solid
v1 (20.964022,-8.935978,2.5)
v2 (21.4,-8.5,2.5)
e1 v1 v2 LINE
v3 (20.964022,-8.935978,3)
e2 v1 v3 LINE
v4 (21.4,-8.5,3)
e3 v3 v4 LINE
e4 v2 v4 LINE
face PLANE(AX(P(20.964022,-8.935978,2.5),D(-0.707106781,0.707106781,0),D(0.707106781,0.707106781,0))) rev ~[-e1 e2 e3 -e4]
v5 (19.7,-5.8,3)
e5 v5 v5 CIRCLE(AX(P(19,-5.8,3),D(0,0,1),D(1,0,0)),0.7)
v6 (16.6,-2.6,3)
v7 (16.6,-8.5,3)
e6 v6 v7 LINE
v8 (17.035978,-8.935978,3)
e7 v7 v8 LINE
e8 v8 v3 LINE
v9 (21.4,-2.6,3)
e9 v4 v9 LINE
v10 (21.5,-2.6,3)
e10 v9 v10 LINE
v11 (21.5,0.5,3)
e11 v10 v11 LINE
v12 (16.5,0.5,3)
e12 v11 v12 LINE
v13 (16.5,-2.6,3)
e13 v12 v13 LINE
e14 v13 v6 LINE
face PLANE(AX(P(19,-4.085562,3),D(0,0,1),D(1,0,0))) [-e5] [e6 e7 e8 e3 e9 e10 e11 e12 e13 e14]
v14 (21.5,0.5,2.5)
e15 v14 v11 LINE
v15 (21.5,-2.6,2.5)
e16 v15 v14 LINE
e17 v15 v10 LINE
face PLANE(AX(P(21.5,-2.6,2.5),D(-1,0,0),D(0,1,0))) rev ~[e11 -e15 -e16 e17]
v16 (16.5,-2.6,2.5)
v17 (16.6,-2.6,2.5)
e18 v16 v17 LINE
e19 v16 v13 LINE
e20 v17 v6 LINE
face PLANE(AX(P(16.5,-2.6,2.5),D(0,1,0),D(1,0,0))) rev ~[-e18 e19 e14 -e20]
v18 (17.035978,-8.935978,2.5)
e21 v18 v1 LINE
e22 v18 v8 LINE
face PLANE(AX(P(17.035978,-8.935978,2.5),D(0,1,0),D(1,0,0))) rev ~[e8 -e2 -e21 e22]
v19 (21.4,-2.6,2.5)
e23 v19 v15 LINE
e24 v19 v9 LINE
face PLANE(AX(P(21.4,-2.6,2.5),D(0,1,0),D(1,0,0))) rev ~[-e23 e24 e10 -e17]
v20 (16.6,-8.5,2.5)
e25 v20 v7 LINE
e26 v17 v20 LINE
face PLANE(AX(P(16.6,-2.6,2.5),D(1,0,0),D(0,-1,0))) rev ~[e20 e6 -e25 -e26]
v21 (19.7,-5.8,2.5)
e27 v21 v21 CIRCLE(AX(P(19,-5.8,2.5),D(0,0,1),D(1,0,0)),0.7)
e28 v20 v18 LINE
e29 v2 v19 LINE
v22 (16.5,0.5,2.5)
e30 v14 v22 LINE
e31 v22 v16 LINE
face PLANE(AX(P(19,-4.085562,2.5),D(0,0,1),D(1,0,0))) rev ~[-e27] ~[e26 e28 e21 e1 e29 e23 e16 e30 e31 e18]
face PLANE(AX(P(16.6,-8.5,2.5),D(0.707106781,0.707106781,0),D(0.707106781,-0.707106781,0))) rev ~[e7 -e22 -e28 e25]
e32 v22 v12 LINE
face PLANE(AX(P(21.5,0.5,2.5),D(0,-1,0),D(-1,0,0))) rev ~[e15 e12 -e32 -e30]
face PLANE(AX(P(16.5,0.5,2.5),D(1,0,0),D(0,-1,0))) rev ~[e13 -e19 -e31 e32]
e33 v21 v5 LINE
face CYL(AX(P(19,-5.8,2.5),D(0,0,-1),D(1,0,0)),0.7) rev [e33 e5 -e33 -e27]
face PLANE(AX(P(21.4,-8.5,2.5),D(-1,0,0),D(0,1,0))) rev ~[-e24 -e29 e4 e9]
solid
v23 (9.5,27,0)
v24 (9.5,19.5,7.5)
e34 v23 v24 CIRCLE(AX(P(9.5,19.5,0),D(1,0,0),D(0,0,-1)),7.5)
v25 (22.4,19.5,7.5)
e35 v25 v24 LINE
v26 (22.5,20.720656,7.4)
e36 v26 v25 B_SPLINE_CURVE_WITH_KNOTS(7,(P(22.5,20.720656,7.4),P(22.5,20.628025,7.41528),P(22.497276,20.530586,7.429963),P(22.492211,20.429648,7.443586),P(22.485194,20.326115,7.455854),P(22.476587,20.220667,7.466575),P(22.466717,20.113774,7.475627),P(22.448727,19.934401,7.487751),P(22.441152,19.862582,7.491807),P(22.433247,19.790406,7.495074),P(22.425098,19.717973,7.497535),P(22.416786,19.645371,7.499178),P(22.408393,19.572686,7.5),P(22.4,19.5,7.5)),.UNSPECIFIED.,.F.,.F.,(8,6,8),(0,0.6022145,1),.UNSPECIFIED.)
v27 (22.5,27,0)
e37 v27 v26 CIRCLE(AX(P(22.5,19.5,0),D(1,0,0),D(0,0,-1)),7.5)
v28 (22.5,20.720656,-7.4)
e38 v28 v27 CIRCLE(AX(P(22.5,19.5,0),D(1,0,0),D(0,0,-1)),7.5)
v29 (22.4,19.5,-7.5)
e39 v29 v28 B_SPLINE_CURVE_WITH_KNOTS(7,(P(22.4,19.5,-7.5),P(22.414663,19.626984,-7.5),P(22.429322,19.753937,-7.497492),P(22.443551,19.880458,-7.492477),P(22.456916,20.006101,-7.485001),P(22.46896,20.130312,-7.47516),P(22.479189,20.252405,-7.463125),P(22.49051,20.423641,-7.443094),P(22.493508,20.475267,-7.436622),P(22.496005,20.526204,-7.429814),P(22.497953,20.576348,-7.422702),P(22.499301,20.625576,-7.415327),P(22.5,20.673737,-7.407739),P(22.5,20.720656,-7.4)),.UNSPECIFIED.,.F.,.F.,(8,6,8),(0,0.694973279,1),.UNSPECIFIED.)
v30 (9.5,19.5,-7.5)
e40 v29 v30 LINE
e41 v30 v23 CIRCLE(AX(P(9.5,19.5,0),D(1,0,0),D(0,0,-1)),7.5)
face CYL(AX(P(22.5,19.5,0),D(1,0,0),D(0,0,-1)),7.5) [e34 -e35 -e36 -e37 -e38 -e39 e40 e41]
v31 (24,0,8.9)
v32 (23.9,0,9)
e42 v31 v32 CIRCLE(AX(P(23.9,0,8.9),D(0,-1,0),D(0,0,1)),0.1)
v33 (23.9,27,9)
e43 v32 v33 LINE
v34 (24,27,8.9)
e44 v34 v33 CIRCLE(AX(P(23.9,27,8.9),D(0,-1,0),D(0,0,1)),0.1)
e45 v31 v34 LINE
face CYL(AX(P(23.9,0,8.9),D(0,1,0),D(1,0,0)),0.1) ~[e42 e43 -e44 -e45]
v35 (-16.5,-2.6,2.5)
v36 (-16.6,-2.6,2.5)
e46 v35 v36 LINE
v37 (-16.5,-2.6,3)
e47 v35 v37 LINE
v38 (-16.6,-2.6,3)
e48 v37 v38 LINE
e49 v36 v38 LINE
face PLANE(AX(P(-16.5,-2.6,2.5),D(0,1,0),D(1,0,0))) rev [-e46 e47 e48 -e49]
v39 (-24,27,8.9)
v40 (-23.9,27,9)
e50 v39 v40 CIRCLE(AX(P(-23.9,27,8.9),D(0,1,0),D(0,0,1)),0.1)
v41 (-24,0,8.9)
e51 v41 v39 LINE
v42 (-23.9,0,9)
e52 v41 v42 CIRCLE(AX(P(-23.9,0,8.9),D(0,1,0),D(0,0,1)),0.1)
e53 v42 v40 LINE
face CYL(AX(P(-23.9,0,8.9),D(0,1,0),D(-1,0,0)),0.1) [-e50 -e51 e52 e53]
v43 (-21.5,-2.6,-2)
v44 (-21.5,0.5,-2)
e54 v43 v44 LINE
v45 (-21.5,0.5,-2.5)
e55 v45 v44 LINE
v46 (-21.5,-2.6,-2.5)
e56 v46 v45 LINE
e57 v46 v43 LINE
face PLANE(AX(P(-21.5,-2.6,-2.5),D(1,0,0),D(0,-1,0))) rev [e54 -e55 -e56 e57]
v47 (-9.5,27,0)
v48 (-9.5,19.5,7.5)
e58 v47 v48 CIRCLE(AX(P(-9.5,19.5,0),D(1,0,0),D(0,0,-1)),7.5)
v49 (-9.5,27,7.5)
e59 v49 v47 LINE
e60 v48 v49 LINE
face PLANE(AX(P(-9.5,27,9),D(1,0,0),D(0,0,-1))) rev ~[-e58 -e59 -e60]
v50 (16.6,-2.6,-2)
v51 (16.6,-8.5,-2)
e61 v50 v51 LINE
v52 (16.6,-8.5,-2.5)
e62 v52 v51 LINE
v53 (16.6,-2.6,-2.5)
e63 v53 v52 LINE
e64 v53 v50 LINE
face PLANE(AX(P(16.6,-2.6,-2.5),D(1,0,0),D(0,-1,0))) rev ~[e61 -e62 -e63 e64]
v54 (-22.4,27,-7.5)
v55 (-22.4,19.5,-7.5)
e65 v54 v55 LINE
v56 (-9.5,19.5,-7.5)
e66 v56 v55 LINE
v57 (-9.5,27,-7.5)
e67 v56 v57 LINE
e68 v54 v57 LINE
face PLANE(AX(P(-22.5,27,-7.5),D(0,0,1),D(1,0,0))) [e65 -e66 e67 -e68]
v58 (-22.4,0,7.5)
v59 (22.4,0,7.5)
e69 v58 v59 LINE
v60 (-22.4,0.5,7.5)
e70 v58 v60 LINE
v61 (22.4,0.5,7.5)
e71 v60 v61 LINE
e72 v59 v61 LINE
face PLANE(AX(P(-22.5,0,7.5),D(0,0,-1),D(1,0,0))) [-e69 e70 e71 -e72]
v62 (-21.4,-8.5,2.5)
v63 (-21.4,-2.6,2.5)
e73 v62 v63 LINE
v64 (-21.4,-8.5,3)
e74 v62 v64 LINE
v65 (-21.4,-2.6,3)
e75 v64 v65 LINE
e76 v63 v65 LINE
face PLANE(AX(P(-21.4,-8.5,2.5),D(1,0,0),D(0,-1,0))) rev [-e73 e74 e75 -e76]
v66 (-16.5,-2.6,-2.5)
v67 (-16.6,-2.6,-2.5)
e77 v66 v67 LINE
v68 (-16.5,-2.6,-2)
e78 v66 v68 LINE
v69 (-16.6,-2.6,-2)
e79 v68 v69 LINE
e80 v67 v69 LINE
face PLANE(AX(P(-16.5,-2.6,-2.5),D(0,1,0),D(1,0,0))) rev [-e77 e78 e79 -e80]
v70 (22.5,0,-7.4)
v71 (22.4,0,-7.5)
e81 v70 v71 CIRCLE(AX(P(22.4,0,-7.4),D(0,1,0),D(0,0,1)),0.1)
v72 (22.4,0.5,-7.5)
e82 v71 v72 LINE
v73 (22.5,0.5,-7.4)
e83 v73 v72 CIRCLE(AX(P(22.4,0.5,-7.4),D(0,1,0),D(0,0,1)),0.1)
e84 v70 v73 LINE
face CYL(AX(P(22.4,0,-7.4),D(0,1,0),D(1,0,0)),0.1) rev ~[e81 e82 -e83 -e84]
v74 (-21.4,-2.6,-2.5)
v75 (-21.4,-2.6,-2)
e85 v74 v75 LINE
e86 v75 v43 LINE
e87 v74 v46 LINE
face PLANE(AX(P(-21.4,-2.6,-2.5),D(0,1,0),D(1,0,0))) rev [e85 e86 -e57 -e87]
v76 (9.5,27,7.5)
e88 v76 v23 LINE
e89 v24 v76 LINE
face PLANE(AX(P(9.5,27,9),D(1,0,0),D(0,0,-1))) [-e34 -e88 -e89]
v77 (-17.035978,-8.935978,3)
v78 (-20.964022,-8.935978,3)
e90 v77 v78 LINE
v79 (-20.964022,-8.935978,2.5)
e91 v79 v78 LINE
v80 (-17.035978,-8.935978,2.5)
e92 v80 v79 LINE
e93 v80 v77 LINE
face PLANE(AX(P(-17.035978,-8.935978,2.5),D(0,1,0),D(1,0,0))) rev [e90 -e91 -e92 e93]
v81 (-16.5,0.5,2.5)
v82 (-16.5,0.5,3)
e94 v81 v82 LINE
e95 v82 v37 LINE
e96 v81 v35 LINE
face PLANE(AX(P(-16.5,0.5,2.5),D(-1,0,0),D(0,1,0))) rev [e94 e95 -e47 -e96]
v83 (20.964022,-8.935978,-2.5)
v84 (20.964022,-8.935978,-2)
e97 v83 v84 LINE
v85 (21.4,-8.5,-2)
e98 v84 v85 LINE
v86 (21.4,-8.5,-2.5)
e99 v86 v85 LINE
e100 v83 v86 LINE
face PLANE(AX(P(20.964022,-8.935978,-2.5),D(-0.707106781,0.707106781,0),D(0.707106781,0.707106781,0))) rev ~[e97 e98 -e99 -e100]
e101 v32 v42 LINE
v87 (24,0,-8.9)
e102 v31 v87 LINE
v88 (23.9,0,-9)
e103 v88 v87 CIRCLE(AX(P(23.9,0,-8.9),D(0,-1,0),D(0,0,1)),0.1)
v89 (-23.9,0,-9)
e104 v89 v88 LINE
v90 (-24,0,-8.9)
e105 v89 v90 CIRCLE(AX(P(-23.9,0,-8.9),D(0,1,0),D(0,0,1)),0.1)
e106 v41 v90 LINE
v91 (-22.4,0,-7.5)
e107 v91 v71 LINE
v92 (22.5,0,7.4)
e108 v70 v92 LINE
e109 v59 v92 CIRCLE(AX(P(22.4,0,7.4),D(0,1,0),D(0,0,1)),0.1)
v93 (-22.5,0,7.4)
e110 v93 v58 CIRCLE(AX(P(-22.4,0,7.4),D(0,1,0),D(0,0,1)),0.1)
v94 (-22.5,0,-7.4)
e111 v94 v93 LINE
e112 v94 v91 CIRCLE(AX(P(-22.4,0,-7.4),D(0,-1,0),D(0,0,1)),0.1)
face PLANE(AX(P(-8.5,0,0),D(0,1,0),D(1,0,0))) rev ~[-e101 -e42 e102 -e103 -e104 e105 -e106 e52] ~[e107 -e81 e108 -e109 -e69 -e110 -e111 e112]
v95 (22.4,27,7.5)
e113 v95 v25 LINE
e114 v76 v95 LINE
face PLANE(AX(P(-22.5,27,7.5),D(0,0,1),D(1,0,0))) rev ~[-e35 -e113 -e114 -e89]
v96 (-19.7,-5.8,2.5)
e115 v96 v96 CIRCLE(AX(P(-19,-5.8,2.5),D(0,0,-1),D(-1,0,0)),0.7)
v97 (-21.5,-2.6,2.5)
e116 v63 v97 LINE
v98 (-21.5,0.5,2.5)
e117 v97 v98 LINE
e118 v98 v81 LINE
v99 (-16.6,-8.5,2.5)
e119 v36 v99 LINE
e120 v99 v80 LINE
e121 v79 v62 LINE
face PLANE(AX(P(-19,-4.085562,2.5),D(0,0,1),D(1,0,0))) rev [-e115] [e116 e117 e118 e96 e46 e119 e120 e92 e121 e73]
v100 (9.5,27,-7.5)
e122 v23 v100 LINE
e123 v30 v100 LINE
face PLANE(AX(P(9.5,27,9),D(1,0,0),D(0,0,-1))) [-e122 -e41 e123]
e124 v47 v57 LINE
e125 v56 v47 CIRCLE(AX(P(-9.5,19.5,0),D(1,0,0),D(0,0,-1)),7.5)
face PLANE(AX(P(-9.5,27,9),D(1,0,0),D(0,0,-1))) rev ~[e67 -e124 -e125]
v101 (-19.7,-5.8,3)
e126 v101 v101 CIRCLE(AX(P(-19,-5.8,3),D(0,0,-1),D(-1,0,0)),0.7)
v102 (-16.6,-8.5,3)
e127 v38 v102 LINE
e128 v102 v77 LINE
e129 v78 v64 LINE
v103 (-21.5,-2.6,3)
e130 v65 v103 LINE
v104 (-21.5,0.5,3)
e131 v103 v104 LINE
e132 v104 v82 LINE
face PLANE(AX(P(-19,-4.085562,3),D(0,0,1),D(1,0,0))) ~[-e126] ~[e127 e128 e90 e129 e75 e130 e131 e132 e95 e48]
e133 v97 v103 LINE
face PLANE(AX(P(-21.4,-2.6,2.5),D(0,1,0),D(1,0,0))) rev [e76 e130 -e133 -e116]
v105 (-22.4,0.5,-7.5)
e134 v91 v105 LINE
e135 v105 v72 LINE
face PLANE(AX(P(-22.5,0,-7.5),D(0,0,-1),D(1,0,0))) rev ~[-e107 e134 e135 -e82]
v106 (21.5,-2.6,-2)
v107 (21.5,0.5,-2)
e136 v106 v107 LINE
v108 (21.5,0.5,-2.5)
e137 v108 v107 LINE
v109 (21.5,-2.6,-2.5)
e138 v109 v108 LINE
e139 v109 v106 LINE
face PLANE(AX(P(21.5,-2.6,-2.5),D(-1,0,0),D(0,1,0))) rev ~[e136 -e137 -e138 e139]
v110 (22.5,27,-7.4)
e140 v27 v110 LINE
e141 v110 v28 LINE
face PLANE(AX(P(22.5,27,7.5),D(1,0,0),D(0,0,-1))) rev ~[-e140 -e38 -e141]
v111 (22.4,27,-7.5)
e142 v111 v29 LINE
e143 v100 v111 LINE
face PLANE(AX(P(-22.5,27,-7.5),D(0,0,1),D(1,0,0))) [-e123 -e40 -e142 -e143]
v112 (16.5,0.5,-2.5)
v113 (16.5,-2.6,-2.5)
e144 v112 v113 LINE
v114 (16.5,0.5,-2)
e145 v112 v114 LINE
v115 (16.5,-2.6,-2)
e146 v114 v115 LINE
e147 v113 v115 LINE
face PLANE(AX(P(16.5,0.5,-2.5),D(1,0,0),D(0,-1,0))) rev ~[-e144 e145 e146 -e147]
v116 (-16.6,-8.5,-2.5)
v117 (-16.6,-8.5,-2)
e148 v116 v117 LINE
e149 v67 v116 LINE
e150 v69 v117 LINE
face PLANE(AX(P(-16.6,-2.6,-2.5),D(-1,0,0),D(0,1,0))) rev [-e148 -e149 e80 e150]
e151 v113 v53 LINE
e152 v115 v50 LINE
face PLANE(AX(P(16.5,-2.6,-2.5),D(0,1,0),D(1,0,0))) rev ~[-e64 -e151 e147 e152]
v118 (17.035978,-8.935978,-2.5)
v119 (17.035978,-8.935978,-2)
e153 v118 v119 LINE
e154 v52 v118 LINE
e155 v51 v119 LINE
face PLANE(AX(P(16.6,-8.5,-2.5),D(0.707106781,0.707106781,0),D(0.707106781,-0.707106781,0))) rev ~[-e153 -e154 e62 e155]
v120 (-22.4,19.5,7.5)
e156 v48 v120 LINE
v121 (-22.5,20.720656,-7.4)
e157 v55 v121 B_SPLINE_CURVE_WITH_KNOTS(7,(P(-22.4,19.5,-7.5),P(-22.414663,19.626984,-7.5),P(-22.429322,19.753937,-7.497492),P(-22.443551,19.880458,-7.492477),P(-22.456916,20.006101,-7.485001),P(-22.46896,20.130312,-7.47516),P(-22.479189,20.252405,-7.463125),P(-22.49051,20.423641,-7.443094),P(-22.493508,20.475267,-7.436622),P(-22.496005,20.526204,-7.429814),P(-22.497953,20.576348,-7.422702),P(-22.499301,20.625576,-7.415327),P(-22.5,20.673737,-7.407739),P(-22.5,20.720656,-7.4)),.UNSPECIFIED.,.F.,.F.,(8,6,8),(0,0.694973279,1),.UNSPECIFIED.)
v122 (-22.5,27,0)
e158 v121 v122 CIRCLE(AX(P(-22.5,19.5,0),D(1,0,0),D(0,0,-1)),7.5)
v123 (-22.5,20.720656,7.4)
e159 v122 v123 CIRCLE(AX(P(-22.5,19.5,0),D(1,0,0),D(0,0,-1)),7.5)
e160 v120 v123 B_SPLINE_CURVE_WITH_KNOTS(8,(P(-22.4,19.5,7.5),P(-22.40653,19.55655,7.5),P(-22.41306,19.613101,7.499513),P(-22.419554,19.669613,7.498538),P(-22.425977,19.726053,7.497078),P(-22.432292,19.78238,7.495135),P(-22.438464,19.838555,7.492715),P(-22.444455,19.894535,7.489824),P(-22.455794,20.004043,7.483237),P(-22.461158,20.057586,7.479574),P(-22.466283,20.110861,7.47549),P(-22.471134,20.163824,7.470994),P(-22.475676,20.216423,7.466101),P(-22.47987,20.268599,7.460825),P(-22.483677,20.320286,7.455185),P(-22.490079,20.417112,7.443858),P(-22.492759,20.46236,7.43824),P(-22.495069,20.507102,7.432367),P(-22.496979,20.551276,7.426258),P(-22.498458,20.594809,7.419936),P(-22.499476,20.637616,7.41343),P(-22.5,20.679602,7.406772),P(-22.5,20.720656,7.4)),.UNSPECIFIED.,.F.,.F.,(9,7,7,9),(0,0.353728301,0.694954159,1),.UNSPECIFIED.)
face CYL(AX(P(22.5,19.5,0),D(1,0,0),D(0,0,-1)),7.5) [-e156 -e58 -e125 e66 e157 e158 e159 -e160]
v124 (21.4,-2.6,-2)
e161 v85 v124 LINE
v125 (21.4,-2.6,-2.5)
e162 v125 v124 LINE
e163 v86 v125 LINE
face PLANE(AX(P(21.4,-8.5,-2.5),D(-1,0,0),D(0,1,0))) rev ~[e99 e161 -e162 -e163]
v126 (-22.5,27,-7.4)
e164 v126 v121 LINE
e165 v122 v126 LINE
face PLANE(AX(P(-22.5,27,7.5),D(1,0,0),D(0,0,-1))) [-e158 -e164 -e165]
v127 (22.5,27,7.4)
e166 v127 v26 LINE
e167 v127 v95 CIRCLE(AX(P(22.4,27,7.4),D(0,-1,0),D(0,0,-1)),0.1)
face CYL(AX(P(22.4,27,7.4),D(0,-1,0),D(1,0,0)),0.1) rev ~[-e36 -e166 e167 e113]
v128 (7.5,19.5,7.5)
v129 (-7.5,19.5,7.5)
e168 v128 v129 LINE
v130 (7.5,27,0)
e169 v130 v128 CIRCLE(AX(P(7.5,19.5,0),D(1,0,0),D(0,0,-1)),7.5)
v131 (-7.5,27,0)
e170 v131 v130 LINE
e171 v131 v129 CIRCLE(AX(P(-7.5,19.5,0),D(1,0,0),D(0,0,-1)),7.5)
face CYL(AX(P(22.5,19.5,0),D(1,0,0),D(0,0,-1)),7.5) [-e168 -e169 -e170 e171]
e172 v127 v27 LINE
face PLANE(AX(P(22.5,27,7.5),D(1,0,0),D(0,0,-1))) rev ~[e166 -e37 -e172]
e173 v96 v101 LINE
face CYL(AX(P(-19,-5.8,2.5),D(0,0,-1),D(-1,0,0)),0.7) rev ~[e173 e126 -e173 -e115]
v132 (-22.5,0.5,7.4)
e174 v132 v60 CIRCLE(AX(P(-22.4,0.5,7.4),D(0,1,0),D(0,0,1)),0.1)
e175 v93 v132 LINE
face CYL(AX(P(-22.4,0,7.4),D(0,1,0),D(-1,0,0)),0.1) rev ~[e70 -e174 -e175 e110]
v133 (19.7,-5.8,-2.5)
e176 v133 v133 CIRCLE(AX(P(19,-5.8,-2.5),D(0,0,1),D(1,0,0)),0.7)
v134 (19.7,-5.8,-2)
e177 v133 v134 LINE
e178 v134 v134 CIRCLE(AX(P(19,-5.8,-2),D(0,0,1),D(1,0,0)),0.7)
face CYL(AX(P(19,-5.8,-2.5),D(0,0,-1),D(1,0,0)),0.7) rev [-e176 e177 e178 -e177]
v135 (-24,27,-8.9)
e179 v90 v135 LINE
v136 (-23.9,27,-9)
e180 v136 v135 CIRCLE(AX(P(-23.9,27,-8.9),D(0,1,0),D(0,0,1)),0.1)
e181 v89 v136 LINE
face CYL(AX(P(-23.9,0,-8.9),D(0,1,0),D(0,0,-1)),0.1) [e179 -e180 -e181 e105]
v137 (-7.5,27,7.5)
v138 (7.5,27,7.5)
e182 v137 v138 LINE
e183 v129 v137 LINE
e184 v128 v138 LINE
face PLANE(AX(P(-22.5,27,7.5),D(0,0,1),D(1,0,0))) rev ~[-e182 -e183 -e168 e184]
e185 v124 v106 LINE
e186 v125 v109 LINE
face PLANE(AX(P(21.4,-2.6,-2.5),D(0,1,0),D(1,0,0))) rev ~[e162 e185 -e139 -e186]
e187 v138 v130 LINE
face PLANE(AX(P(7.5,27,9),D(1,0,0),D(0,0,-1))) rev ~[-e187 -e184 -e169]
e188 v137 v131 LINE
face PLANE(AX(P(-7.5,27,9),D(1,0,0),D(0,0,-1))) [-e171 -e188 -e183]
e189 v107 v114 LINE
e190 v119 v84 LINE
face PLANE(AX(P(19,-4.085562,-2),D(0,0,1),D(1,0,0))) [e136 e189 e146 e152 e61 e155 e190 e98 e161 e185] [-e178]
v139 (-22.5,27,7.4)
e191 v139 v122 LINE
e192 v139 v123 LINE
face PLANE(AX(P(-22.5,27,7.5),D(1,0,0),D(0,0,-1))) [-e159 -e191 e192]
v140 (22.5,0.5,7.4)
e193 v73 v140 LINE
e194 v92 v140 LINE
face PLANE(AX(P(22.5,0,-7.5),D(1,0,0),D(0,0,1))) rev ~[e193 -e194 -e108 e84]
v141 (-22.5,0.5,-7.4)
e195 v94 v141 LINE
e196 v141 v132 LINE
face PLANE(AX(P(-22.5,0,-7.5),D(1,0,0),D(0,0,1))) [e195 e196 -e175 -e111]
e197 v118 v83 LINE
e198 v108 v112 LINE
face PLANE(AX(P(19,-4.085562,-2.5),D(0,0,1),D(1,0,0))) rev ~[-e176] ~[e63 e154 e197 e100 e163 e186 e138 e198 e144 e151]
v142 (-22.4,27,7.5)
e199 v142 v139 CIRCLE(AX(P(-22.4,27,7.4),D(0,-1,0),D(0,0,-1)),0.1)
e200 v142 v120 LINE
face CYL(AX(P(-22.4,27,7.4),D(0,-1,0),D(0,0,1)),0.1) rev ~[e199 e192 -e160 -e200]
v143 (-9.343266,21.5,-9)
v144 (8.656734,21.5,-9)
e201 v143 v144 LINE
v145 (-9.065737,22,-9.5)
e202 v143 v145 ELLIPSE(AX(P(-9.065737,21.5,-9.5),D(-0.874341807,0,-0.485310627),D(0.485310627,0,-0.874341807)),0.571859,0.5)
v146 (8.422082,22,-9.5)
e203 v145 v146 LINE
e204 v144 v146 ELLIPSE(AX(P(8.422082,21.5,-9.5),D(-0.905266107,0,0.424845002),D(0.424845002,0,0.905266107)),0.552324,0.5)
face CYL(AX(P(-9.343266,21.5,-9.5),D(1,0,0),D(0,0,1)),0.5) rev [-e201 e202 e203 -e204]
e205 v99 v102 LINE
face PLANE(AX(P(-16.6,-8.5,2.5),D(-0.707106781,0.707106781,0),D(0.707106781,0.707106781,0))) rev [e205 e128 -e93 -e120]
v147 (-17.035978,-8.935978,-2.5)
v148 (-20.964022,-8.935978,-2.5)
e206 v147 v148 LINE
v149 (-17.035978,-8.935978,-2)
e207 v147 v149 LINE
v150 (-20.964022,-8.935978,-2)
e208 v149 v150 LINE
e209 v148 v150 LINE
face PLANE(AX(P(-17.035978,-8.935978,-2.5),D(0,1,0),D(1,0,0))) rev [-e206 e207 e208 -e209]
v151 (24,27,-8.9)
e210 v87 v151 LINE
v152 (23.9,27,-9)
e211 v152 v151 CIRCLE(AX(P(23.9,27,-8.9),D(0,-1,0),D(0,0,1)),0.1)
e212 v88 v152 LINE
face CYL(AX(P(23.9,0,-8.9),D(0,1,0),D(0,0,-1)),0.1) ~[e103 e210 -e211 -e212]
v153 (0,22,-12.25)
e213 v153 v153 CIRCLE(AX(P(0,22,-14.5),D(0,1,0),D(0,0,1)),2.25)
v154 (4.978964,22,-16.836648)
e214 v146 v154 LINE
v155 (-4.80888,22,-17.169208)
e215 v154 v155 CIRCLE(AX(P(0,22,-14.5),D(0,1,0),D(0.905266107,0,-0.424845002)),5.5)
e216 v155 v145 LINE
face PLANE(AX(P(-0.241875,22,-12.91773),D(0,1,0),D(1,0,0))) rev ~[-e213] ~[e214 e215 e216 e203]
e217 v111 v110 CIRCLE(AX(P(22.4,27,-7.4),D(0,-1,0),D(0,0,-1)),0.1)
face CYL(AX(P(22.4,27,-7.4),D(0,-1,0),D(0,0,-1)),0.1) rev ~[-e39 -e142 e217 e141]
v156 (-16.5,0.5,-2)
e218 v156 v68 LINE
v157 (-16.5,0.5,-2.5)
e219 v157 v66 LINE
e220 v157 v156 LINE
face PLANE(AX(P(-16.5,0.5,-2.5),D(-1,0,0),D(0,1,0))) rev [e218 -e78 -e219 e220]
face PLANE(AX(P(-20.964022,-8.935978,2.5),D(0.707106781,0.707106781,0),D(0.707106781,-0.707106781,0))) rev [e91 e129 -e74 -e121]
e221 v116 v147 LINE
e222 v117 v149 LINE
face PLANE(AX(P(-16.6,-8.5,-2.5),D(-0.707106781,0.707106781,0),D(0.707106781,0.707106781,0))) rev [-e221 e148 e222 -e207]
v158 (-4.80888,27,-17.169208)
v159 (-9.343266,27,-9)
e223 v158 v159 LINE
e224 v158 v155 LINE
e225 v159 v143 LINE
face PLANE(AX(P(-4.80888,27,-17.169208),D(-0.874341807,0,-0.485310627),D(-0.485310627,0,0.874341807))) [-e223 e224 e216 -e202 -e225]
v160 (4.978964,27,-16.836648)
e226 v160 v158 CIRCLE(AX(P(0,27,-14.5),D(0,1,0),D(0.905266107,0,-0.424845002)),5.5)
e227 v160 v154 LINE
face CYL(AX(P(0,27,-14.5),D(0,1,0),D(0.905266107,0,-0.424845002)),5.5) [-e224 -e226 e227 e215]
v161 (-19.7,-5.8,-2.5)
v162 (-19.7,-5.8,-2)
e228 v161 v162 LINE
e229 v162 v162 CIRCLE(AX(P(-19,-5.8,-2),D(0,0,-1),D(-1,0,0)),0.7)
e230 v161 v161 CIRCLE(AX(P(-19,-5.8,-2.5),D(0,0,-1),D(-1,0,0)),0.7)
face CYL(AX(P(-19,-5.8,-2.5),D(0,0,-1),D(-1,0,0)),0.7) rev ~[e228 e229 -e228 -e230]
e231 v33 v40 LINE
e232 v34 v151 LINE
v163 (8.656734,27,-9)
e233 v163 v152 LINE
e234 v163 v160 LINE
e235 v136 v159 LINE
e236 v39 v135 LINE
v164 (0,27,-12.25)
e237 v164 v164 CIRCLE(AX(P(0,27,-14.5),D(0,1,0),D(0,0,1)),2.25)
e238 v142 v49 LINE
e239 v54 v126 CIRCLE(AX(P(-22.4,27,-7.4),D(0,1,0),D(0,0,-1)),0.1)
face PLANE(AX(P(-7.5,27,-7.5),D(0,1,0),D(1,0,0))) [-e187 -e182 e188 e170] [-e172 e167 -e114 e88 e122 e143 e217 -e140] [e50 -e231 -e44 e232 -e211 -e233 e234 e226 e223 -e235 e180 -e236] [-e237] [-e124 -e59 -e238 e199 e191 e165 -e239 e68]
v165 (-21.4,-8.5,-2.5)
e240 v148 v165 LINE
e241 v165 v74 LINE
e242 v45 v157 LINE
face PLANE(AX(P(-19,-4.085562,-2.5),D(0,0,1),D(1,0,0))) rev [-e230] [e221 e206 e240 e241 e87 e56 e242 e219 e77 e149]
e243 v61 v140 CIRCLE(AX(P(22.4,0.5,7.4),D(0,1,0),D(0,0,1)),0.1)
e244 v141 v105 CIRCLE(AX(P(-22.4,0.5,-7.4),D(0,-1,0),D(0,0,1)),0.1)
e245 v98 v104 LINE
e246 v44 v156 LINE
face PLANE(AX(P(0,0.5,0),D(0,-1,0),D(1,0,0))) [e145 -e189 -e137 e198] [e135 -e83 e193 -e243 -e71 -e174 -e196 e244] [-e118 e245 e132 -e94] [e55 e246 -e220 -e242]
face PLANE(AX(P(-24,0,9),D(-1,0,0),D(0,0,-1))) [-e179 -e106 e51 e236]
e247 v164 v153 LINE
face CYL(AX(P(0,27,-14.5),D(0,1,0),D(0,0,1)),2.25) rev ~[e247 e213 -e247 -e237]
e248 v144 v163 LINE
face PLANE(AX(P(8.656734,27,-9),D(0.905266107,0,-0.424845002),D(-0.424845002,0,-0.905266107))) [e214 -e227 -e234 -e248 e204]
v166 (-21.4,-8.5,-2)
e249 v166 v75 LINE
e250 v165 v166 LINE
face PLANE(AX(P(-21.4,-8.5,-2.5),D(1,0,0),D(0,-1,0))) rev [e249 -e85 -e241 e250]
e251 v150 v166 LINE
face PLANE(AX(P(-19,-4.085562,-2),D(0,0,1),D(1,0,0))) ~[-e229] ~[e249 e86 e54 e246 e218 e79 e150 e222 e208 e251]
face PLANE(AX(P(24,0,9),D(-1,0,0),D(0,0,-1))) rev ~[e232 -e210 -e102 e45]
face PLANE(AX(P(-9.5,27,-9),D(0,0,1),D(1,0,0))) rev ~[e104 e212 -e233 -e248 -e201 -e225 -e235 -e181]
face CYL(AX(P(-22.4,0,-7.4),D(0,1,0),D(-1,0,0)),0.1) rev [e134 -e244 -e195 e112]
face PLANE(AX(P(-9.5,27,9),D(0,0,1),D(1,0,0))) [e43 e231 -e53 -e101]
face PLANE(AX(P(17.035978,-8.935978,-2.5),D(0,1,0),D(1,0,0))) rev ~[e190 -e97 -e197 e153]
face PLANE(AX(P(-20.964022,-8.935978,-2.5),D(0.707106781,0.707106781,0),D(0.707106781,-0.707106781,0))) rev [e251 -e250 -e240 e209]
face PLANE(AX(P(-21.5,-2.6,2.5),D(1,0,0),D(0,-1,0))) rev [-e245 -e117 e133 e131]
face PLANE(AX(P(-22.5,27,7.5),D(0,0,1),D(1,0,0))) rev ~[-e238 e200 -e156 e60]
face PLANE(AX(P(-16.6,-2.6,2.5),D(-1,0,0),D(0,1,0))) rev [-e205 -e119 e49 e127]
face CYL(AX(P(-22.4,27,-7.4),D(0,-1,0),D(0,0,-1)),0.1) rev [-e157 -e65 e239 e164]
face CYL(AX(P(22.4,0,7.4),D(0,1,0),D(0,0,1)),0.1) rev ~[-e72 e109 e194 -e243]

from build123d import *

# Parameters (mm, degrees)
SKETCH1_W            = 48
SKETCH1_H            = 18
BOSS_EXTRUDE1_DEPTH  = 27
SKETCH7_W            = 45
SKETCH7_H            = 15
CUT_EXTRUDE8_DEPTH   = 38.229020938
BOSS_EXTRUDE4_REACH  = 56.518
SKETCH10_W           = 2
SKETCH10_H           = 18
BOSS_EXTRUDE5_DEPTH  = 27
SKETCH11_R           = 2.25
BOSS_EXTRUDE7_DEPTH  = 5
FILLET1_R            = 0.5
SKETCH12_W           = 45
SKETCH12_H           = 15
CUT_EXTRUDE9_DEPTH   = 0.5
BOSS_EXTRUDE8_START  = 2.5
SKETCH15_R           = 0.7
BOSS_EXTRUDE8_DEPTH  = 0.5
BOSS_EXTRUDE9_START  = -2.5
SKETCH15_2_R         = 0.7
BOSS_EXTRUDE9_DEPTH  = 0.5
FILLET2_R            = 0.1
BOSS_EXTRUDE10_REACH = 41.715
SKETCH16_W           = 15
SKETCH16_H           = 7.5
FILLET3_R            = 0.1


with BuildPart() as part:
    # Sketch1 → Boss-Extrude1 (new body)
    with BuildSketch(Plane(origin=(0, 0, 0), x_dir=(1, 0, 0), z_dir=(0, 1, 0))):
        Rectangle(SKETCH1_W, SKETCH1_H)
    extrude(amount=BOSS_EXTRUDE1_DEPTH)

    # Sketch7 → Cut-Extrude8 (cut, through all)
    with BuildSketch(Plane(origin=(0, 27, 0), x_dir=(1, 0, 0), z_dir=(0, 1, 0))):
        Rectangle(SKETCH7_W, SKETCH7_H)
    extrude(amount=-CUT_EXTRUDE8_DEPTH, mode=Mode.SUBTRACT)


with BuildPart() as body_2:

    # Sketch9 → Boss-Extrude4 (new, up to next)
    with BuildSketch(Plane.ZY.offset(-22.5), mode=Mode.PRIVATE) as boss_extrude4_sk1:
        with BuildLine():
            Line((-7.5, 0), (-7.5, 19.5))
            ThreePointArc((-7.5, 19.5), (0, 27), (7.5, 19.5))
            Line((7.5, 19.5), (7.5, 0))
            Line((7.5, 0), (-7.5, 0))
        make_face()
    boss_extrude4_tool1 = extrude(boss_extrude4_sk1.sketch, amount=BOSS_EXTRUDE4_REACH, mode=Mode.PRIVATE) - part.part
    add(boss_extrude4_tool1.solids().sort_by_distance((22.5, 12.750425, 0))[0])


with BuildPart() as part_1:
    add(part.part)

    add(body_2.part)  # Boss-Extrude5 merges body 2
    # Sketch10 → Boss-Extrude5 (add)
    with BuildSketch(Plane(origin=(0, 27, 0), x_dir=(1, 0, 0), z_dir=(0, 1, 0))):
        with Locations((-8.5, 0)):
            Rectangle(SKETCH10_W, SKETCH10_H)
        with Locations((8.5, 0)):
            Rectangle(SKETCH10_W, SKETCH10_H)
    extrude(amount=-BOSS_EXTRUDE5_DEPTH)

    # Sketch11 → Boss-Extrude7 (add)
    with BuildSketch(Plane(origin=(0, 27, 0), x_dir=(1, 0, 0), z_dir=(0, 1, 0))):
        with BuildLine():
            Line((-9.34326642, 9), (8.65673358, 9))
            Line((8.65673358, 9), (4.978963589, 16.836647508))
            ThreePointArc((4.978963589, 16.836647508), (0.186765378, 19.996828057), (-4.808879939, 17.169208446))
            Line((-4.808879939, 17.169208446), (-9.34326642, 9))
        make_face()
        with Locations(Location((0, 14.5, 0), (0, 0, 270))):
            Circle(SKETCH11_R, mode=Mode.SUBTRACT)
    extrude(amount=-BOSS_EXTRUDE7_DEPTH)

    # Fillet1
    fillet1_edges = [part_1.edges().sort_by_distance(p)[0] for p in [
        (-0.34326642, 22, -9),
    ]]
    fillet(fillet1_edges, radius=FILLET1_R)

    # Sketch12 → Cut-Extrude9 (cut)
    with BuildSketch(Plane.XZ):
        Rectangle(SKETCH12_W, SKETCH12_H)
    extrude(amount=-CUT_EXTRUDE9_DEPTH, mode=Mode.SUBTRACT)

    # Sketch15<2> → Boss-Extrude9 (add)
    with BuildSketch(Plane.XY.offset(BOSS_EXTRUDE9_START)):
        Polygon((21.5, 0.5), (16.5, 0.5), (16.5, -2.6), (16.6, -2.6), (16.6, -8.5), (17.035978299, -8.935978299), (20.964021701, -8.935978299), (21.4, -8.5), (21.4, -2.6), (21.5, -2.6), align=None)
        with Locations((19, -5.8)):
            Circle(SKETCH15_2_R, mode=Mode.SUBTRACT)
    boss_extrude9 = extrude(amount=BOSS_EXTRUDE9_DEPTH)


with BuildPart() as body_2_2:
    # Sketch15 → Boss-Extrude8 (new body)
    with BuildSketch(Plane.XY.offset(BOSS_EXTRUDE8_START)):
        Polygon((21.5, 0.5), (16.5, 0.5), (16.5, -2.6), (16.6, -2.6), (16.6, -8.5), (17.035978299, -8.935978299), (20.964021701, -8.935978299), (21.4, -8.5), (21.4, -2.6), (21.5, -2.6), align=None)
        with Locations((19, -5.8)):
            Circle(SKETCH15_R, mode=Mode.SUBTRACT)
    boss_extrude8 = extrude(amount=BOSS_EXTRUDE8_DEPTH)


with BuildPart() as part_2:
    add(part_1.part)

    # Mirror1: Boss-Extrude8, Boss-Extrude9 across plane
    add(boss_extrude8.mirror(Plane(origin=(0, 0, 0), x_dir=(0, 0, 1), z_dir=(1, 0, 0))))
    add(boss_extrude9.mirror(Plane(origin=(0, 0, 0), x_dir=(0, 0, 1), z_dir=(1, 0, 0))))

    # Fillet2
    fillet2_edges = [part_2.edges().sort_by_distance(p)[0] for p in [
        (22.5, 23.25, -7.5),
        (22.5, 23.25, 7.5),
        (-22.5, 23.25, -7.5),
        (-22.5, 23.25, 7.5),
        (24, 13.5, 9),
        (-24, 13.5, 9),
        (-24, 13.5, -9),
        (24, 13.5, -9),
    ]]
    fillet(fillet2_edges, radius=FILLET2_R)

    # Sketch16 → Boss-Extrude10 (add, up to next)
    with BuildSketch(Plane.XY.offset(-7.5), mode=Mode.PRIVATE) as boss_extrude10_sk1:
        with Locations((0, 23.25)):
            Rectangle(SKETCH16_W, SKETCH16_H)
    boss_extrude10_tool1 = extrude(boss_extrude10_sk1.sketch, amount=BOSS_EXTRUDE10_REACH, mode=Mode.PRIVATE) - part_2.part
    add(boss_extrude10_tool1.solids().sort_by_distance((0, 23.25, -7.5))[0])

    # Fillet3
    fillet3_edges = [part_2.edges().sort_by_distance(p)[0] for p in [
        (22.5, 0.25, -7.5),
        (-22.5, 0.25, -7.5),
        (-22.5, 0.25, 7.5),
        (22.5, 0.25, 7.5),
    ]]
    fillet(fillet3_edges, radius=FILLET3_R)


solid = Compound([body_2_2.part, part_2.part])
